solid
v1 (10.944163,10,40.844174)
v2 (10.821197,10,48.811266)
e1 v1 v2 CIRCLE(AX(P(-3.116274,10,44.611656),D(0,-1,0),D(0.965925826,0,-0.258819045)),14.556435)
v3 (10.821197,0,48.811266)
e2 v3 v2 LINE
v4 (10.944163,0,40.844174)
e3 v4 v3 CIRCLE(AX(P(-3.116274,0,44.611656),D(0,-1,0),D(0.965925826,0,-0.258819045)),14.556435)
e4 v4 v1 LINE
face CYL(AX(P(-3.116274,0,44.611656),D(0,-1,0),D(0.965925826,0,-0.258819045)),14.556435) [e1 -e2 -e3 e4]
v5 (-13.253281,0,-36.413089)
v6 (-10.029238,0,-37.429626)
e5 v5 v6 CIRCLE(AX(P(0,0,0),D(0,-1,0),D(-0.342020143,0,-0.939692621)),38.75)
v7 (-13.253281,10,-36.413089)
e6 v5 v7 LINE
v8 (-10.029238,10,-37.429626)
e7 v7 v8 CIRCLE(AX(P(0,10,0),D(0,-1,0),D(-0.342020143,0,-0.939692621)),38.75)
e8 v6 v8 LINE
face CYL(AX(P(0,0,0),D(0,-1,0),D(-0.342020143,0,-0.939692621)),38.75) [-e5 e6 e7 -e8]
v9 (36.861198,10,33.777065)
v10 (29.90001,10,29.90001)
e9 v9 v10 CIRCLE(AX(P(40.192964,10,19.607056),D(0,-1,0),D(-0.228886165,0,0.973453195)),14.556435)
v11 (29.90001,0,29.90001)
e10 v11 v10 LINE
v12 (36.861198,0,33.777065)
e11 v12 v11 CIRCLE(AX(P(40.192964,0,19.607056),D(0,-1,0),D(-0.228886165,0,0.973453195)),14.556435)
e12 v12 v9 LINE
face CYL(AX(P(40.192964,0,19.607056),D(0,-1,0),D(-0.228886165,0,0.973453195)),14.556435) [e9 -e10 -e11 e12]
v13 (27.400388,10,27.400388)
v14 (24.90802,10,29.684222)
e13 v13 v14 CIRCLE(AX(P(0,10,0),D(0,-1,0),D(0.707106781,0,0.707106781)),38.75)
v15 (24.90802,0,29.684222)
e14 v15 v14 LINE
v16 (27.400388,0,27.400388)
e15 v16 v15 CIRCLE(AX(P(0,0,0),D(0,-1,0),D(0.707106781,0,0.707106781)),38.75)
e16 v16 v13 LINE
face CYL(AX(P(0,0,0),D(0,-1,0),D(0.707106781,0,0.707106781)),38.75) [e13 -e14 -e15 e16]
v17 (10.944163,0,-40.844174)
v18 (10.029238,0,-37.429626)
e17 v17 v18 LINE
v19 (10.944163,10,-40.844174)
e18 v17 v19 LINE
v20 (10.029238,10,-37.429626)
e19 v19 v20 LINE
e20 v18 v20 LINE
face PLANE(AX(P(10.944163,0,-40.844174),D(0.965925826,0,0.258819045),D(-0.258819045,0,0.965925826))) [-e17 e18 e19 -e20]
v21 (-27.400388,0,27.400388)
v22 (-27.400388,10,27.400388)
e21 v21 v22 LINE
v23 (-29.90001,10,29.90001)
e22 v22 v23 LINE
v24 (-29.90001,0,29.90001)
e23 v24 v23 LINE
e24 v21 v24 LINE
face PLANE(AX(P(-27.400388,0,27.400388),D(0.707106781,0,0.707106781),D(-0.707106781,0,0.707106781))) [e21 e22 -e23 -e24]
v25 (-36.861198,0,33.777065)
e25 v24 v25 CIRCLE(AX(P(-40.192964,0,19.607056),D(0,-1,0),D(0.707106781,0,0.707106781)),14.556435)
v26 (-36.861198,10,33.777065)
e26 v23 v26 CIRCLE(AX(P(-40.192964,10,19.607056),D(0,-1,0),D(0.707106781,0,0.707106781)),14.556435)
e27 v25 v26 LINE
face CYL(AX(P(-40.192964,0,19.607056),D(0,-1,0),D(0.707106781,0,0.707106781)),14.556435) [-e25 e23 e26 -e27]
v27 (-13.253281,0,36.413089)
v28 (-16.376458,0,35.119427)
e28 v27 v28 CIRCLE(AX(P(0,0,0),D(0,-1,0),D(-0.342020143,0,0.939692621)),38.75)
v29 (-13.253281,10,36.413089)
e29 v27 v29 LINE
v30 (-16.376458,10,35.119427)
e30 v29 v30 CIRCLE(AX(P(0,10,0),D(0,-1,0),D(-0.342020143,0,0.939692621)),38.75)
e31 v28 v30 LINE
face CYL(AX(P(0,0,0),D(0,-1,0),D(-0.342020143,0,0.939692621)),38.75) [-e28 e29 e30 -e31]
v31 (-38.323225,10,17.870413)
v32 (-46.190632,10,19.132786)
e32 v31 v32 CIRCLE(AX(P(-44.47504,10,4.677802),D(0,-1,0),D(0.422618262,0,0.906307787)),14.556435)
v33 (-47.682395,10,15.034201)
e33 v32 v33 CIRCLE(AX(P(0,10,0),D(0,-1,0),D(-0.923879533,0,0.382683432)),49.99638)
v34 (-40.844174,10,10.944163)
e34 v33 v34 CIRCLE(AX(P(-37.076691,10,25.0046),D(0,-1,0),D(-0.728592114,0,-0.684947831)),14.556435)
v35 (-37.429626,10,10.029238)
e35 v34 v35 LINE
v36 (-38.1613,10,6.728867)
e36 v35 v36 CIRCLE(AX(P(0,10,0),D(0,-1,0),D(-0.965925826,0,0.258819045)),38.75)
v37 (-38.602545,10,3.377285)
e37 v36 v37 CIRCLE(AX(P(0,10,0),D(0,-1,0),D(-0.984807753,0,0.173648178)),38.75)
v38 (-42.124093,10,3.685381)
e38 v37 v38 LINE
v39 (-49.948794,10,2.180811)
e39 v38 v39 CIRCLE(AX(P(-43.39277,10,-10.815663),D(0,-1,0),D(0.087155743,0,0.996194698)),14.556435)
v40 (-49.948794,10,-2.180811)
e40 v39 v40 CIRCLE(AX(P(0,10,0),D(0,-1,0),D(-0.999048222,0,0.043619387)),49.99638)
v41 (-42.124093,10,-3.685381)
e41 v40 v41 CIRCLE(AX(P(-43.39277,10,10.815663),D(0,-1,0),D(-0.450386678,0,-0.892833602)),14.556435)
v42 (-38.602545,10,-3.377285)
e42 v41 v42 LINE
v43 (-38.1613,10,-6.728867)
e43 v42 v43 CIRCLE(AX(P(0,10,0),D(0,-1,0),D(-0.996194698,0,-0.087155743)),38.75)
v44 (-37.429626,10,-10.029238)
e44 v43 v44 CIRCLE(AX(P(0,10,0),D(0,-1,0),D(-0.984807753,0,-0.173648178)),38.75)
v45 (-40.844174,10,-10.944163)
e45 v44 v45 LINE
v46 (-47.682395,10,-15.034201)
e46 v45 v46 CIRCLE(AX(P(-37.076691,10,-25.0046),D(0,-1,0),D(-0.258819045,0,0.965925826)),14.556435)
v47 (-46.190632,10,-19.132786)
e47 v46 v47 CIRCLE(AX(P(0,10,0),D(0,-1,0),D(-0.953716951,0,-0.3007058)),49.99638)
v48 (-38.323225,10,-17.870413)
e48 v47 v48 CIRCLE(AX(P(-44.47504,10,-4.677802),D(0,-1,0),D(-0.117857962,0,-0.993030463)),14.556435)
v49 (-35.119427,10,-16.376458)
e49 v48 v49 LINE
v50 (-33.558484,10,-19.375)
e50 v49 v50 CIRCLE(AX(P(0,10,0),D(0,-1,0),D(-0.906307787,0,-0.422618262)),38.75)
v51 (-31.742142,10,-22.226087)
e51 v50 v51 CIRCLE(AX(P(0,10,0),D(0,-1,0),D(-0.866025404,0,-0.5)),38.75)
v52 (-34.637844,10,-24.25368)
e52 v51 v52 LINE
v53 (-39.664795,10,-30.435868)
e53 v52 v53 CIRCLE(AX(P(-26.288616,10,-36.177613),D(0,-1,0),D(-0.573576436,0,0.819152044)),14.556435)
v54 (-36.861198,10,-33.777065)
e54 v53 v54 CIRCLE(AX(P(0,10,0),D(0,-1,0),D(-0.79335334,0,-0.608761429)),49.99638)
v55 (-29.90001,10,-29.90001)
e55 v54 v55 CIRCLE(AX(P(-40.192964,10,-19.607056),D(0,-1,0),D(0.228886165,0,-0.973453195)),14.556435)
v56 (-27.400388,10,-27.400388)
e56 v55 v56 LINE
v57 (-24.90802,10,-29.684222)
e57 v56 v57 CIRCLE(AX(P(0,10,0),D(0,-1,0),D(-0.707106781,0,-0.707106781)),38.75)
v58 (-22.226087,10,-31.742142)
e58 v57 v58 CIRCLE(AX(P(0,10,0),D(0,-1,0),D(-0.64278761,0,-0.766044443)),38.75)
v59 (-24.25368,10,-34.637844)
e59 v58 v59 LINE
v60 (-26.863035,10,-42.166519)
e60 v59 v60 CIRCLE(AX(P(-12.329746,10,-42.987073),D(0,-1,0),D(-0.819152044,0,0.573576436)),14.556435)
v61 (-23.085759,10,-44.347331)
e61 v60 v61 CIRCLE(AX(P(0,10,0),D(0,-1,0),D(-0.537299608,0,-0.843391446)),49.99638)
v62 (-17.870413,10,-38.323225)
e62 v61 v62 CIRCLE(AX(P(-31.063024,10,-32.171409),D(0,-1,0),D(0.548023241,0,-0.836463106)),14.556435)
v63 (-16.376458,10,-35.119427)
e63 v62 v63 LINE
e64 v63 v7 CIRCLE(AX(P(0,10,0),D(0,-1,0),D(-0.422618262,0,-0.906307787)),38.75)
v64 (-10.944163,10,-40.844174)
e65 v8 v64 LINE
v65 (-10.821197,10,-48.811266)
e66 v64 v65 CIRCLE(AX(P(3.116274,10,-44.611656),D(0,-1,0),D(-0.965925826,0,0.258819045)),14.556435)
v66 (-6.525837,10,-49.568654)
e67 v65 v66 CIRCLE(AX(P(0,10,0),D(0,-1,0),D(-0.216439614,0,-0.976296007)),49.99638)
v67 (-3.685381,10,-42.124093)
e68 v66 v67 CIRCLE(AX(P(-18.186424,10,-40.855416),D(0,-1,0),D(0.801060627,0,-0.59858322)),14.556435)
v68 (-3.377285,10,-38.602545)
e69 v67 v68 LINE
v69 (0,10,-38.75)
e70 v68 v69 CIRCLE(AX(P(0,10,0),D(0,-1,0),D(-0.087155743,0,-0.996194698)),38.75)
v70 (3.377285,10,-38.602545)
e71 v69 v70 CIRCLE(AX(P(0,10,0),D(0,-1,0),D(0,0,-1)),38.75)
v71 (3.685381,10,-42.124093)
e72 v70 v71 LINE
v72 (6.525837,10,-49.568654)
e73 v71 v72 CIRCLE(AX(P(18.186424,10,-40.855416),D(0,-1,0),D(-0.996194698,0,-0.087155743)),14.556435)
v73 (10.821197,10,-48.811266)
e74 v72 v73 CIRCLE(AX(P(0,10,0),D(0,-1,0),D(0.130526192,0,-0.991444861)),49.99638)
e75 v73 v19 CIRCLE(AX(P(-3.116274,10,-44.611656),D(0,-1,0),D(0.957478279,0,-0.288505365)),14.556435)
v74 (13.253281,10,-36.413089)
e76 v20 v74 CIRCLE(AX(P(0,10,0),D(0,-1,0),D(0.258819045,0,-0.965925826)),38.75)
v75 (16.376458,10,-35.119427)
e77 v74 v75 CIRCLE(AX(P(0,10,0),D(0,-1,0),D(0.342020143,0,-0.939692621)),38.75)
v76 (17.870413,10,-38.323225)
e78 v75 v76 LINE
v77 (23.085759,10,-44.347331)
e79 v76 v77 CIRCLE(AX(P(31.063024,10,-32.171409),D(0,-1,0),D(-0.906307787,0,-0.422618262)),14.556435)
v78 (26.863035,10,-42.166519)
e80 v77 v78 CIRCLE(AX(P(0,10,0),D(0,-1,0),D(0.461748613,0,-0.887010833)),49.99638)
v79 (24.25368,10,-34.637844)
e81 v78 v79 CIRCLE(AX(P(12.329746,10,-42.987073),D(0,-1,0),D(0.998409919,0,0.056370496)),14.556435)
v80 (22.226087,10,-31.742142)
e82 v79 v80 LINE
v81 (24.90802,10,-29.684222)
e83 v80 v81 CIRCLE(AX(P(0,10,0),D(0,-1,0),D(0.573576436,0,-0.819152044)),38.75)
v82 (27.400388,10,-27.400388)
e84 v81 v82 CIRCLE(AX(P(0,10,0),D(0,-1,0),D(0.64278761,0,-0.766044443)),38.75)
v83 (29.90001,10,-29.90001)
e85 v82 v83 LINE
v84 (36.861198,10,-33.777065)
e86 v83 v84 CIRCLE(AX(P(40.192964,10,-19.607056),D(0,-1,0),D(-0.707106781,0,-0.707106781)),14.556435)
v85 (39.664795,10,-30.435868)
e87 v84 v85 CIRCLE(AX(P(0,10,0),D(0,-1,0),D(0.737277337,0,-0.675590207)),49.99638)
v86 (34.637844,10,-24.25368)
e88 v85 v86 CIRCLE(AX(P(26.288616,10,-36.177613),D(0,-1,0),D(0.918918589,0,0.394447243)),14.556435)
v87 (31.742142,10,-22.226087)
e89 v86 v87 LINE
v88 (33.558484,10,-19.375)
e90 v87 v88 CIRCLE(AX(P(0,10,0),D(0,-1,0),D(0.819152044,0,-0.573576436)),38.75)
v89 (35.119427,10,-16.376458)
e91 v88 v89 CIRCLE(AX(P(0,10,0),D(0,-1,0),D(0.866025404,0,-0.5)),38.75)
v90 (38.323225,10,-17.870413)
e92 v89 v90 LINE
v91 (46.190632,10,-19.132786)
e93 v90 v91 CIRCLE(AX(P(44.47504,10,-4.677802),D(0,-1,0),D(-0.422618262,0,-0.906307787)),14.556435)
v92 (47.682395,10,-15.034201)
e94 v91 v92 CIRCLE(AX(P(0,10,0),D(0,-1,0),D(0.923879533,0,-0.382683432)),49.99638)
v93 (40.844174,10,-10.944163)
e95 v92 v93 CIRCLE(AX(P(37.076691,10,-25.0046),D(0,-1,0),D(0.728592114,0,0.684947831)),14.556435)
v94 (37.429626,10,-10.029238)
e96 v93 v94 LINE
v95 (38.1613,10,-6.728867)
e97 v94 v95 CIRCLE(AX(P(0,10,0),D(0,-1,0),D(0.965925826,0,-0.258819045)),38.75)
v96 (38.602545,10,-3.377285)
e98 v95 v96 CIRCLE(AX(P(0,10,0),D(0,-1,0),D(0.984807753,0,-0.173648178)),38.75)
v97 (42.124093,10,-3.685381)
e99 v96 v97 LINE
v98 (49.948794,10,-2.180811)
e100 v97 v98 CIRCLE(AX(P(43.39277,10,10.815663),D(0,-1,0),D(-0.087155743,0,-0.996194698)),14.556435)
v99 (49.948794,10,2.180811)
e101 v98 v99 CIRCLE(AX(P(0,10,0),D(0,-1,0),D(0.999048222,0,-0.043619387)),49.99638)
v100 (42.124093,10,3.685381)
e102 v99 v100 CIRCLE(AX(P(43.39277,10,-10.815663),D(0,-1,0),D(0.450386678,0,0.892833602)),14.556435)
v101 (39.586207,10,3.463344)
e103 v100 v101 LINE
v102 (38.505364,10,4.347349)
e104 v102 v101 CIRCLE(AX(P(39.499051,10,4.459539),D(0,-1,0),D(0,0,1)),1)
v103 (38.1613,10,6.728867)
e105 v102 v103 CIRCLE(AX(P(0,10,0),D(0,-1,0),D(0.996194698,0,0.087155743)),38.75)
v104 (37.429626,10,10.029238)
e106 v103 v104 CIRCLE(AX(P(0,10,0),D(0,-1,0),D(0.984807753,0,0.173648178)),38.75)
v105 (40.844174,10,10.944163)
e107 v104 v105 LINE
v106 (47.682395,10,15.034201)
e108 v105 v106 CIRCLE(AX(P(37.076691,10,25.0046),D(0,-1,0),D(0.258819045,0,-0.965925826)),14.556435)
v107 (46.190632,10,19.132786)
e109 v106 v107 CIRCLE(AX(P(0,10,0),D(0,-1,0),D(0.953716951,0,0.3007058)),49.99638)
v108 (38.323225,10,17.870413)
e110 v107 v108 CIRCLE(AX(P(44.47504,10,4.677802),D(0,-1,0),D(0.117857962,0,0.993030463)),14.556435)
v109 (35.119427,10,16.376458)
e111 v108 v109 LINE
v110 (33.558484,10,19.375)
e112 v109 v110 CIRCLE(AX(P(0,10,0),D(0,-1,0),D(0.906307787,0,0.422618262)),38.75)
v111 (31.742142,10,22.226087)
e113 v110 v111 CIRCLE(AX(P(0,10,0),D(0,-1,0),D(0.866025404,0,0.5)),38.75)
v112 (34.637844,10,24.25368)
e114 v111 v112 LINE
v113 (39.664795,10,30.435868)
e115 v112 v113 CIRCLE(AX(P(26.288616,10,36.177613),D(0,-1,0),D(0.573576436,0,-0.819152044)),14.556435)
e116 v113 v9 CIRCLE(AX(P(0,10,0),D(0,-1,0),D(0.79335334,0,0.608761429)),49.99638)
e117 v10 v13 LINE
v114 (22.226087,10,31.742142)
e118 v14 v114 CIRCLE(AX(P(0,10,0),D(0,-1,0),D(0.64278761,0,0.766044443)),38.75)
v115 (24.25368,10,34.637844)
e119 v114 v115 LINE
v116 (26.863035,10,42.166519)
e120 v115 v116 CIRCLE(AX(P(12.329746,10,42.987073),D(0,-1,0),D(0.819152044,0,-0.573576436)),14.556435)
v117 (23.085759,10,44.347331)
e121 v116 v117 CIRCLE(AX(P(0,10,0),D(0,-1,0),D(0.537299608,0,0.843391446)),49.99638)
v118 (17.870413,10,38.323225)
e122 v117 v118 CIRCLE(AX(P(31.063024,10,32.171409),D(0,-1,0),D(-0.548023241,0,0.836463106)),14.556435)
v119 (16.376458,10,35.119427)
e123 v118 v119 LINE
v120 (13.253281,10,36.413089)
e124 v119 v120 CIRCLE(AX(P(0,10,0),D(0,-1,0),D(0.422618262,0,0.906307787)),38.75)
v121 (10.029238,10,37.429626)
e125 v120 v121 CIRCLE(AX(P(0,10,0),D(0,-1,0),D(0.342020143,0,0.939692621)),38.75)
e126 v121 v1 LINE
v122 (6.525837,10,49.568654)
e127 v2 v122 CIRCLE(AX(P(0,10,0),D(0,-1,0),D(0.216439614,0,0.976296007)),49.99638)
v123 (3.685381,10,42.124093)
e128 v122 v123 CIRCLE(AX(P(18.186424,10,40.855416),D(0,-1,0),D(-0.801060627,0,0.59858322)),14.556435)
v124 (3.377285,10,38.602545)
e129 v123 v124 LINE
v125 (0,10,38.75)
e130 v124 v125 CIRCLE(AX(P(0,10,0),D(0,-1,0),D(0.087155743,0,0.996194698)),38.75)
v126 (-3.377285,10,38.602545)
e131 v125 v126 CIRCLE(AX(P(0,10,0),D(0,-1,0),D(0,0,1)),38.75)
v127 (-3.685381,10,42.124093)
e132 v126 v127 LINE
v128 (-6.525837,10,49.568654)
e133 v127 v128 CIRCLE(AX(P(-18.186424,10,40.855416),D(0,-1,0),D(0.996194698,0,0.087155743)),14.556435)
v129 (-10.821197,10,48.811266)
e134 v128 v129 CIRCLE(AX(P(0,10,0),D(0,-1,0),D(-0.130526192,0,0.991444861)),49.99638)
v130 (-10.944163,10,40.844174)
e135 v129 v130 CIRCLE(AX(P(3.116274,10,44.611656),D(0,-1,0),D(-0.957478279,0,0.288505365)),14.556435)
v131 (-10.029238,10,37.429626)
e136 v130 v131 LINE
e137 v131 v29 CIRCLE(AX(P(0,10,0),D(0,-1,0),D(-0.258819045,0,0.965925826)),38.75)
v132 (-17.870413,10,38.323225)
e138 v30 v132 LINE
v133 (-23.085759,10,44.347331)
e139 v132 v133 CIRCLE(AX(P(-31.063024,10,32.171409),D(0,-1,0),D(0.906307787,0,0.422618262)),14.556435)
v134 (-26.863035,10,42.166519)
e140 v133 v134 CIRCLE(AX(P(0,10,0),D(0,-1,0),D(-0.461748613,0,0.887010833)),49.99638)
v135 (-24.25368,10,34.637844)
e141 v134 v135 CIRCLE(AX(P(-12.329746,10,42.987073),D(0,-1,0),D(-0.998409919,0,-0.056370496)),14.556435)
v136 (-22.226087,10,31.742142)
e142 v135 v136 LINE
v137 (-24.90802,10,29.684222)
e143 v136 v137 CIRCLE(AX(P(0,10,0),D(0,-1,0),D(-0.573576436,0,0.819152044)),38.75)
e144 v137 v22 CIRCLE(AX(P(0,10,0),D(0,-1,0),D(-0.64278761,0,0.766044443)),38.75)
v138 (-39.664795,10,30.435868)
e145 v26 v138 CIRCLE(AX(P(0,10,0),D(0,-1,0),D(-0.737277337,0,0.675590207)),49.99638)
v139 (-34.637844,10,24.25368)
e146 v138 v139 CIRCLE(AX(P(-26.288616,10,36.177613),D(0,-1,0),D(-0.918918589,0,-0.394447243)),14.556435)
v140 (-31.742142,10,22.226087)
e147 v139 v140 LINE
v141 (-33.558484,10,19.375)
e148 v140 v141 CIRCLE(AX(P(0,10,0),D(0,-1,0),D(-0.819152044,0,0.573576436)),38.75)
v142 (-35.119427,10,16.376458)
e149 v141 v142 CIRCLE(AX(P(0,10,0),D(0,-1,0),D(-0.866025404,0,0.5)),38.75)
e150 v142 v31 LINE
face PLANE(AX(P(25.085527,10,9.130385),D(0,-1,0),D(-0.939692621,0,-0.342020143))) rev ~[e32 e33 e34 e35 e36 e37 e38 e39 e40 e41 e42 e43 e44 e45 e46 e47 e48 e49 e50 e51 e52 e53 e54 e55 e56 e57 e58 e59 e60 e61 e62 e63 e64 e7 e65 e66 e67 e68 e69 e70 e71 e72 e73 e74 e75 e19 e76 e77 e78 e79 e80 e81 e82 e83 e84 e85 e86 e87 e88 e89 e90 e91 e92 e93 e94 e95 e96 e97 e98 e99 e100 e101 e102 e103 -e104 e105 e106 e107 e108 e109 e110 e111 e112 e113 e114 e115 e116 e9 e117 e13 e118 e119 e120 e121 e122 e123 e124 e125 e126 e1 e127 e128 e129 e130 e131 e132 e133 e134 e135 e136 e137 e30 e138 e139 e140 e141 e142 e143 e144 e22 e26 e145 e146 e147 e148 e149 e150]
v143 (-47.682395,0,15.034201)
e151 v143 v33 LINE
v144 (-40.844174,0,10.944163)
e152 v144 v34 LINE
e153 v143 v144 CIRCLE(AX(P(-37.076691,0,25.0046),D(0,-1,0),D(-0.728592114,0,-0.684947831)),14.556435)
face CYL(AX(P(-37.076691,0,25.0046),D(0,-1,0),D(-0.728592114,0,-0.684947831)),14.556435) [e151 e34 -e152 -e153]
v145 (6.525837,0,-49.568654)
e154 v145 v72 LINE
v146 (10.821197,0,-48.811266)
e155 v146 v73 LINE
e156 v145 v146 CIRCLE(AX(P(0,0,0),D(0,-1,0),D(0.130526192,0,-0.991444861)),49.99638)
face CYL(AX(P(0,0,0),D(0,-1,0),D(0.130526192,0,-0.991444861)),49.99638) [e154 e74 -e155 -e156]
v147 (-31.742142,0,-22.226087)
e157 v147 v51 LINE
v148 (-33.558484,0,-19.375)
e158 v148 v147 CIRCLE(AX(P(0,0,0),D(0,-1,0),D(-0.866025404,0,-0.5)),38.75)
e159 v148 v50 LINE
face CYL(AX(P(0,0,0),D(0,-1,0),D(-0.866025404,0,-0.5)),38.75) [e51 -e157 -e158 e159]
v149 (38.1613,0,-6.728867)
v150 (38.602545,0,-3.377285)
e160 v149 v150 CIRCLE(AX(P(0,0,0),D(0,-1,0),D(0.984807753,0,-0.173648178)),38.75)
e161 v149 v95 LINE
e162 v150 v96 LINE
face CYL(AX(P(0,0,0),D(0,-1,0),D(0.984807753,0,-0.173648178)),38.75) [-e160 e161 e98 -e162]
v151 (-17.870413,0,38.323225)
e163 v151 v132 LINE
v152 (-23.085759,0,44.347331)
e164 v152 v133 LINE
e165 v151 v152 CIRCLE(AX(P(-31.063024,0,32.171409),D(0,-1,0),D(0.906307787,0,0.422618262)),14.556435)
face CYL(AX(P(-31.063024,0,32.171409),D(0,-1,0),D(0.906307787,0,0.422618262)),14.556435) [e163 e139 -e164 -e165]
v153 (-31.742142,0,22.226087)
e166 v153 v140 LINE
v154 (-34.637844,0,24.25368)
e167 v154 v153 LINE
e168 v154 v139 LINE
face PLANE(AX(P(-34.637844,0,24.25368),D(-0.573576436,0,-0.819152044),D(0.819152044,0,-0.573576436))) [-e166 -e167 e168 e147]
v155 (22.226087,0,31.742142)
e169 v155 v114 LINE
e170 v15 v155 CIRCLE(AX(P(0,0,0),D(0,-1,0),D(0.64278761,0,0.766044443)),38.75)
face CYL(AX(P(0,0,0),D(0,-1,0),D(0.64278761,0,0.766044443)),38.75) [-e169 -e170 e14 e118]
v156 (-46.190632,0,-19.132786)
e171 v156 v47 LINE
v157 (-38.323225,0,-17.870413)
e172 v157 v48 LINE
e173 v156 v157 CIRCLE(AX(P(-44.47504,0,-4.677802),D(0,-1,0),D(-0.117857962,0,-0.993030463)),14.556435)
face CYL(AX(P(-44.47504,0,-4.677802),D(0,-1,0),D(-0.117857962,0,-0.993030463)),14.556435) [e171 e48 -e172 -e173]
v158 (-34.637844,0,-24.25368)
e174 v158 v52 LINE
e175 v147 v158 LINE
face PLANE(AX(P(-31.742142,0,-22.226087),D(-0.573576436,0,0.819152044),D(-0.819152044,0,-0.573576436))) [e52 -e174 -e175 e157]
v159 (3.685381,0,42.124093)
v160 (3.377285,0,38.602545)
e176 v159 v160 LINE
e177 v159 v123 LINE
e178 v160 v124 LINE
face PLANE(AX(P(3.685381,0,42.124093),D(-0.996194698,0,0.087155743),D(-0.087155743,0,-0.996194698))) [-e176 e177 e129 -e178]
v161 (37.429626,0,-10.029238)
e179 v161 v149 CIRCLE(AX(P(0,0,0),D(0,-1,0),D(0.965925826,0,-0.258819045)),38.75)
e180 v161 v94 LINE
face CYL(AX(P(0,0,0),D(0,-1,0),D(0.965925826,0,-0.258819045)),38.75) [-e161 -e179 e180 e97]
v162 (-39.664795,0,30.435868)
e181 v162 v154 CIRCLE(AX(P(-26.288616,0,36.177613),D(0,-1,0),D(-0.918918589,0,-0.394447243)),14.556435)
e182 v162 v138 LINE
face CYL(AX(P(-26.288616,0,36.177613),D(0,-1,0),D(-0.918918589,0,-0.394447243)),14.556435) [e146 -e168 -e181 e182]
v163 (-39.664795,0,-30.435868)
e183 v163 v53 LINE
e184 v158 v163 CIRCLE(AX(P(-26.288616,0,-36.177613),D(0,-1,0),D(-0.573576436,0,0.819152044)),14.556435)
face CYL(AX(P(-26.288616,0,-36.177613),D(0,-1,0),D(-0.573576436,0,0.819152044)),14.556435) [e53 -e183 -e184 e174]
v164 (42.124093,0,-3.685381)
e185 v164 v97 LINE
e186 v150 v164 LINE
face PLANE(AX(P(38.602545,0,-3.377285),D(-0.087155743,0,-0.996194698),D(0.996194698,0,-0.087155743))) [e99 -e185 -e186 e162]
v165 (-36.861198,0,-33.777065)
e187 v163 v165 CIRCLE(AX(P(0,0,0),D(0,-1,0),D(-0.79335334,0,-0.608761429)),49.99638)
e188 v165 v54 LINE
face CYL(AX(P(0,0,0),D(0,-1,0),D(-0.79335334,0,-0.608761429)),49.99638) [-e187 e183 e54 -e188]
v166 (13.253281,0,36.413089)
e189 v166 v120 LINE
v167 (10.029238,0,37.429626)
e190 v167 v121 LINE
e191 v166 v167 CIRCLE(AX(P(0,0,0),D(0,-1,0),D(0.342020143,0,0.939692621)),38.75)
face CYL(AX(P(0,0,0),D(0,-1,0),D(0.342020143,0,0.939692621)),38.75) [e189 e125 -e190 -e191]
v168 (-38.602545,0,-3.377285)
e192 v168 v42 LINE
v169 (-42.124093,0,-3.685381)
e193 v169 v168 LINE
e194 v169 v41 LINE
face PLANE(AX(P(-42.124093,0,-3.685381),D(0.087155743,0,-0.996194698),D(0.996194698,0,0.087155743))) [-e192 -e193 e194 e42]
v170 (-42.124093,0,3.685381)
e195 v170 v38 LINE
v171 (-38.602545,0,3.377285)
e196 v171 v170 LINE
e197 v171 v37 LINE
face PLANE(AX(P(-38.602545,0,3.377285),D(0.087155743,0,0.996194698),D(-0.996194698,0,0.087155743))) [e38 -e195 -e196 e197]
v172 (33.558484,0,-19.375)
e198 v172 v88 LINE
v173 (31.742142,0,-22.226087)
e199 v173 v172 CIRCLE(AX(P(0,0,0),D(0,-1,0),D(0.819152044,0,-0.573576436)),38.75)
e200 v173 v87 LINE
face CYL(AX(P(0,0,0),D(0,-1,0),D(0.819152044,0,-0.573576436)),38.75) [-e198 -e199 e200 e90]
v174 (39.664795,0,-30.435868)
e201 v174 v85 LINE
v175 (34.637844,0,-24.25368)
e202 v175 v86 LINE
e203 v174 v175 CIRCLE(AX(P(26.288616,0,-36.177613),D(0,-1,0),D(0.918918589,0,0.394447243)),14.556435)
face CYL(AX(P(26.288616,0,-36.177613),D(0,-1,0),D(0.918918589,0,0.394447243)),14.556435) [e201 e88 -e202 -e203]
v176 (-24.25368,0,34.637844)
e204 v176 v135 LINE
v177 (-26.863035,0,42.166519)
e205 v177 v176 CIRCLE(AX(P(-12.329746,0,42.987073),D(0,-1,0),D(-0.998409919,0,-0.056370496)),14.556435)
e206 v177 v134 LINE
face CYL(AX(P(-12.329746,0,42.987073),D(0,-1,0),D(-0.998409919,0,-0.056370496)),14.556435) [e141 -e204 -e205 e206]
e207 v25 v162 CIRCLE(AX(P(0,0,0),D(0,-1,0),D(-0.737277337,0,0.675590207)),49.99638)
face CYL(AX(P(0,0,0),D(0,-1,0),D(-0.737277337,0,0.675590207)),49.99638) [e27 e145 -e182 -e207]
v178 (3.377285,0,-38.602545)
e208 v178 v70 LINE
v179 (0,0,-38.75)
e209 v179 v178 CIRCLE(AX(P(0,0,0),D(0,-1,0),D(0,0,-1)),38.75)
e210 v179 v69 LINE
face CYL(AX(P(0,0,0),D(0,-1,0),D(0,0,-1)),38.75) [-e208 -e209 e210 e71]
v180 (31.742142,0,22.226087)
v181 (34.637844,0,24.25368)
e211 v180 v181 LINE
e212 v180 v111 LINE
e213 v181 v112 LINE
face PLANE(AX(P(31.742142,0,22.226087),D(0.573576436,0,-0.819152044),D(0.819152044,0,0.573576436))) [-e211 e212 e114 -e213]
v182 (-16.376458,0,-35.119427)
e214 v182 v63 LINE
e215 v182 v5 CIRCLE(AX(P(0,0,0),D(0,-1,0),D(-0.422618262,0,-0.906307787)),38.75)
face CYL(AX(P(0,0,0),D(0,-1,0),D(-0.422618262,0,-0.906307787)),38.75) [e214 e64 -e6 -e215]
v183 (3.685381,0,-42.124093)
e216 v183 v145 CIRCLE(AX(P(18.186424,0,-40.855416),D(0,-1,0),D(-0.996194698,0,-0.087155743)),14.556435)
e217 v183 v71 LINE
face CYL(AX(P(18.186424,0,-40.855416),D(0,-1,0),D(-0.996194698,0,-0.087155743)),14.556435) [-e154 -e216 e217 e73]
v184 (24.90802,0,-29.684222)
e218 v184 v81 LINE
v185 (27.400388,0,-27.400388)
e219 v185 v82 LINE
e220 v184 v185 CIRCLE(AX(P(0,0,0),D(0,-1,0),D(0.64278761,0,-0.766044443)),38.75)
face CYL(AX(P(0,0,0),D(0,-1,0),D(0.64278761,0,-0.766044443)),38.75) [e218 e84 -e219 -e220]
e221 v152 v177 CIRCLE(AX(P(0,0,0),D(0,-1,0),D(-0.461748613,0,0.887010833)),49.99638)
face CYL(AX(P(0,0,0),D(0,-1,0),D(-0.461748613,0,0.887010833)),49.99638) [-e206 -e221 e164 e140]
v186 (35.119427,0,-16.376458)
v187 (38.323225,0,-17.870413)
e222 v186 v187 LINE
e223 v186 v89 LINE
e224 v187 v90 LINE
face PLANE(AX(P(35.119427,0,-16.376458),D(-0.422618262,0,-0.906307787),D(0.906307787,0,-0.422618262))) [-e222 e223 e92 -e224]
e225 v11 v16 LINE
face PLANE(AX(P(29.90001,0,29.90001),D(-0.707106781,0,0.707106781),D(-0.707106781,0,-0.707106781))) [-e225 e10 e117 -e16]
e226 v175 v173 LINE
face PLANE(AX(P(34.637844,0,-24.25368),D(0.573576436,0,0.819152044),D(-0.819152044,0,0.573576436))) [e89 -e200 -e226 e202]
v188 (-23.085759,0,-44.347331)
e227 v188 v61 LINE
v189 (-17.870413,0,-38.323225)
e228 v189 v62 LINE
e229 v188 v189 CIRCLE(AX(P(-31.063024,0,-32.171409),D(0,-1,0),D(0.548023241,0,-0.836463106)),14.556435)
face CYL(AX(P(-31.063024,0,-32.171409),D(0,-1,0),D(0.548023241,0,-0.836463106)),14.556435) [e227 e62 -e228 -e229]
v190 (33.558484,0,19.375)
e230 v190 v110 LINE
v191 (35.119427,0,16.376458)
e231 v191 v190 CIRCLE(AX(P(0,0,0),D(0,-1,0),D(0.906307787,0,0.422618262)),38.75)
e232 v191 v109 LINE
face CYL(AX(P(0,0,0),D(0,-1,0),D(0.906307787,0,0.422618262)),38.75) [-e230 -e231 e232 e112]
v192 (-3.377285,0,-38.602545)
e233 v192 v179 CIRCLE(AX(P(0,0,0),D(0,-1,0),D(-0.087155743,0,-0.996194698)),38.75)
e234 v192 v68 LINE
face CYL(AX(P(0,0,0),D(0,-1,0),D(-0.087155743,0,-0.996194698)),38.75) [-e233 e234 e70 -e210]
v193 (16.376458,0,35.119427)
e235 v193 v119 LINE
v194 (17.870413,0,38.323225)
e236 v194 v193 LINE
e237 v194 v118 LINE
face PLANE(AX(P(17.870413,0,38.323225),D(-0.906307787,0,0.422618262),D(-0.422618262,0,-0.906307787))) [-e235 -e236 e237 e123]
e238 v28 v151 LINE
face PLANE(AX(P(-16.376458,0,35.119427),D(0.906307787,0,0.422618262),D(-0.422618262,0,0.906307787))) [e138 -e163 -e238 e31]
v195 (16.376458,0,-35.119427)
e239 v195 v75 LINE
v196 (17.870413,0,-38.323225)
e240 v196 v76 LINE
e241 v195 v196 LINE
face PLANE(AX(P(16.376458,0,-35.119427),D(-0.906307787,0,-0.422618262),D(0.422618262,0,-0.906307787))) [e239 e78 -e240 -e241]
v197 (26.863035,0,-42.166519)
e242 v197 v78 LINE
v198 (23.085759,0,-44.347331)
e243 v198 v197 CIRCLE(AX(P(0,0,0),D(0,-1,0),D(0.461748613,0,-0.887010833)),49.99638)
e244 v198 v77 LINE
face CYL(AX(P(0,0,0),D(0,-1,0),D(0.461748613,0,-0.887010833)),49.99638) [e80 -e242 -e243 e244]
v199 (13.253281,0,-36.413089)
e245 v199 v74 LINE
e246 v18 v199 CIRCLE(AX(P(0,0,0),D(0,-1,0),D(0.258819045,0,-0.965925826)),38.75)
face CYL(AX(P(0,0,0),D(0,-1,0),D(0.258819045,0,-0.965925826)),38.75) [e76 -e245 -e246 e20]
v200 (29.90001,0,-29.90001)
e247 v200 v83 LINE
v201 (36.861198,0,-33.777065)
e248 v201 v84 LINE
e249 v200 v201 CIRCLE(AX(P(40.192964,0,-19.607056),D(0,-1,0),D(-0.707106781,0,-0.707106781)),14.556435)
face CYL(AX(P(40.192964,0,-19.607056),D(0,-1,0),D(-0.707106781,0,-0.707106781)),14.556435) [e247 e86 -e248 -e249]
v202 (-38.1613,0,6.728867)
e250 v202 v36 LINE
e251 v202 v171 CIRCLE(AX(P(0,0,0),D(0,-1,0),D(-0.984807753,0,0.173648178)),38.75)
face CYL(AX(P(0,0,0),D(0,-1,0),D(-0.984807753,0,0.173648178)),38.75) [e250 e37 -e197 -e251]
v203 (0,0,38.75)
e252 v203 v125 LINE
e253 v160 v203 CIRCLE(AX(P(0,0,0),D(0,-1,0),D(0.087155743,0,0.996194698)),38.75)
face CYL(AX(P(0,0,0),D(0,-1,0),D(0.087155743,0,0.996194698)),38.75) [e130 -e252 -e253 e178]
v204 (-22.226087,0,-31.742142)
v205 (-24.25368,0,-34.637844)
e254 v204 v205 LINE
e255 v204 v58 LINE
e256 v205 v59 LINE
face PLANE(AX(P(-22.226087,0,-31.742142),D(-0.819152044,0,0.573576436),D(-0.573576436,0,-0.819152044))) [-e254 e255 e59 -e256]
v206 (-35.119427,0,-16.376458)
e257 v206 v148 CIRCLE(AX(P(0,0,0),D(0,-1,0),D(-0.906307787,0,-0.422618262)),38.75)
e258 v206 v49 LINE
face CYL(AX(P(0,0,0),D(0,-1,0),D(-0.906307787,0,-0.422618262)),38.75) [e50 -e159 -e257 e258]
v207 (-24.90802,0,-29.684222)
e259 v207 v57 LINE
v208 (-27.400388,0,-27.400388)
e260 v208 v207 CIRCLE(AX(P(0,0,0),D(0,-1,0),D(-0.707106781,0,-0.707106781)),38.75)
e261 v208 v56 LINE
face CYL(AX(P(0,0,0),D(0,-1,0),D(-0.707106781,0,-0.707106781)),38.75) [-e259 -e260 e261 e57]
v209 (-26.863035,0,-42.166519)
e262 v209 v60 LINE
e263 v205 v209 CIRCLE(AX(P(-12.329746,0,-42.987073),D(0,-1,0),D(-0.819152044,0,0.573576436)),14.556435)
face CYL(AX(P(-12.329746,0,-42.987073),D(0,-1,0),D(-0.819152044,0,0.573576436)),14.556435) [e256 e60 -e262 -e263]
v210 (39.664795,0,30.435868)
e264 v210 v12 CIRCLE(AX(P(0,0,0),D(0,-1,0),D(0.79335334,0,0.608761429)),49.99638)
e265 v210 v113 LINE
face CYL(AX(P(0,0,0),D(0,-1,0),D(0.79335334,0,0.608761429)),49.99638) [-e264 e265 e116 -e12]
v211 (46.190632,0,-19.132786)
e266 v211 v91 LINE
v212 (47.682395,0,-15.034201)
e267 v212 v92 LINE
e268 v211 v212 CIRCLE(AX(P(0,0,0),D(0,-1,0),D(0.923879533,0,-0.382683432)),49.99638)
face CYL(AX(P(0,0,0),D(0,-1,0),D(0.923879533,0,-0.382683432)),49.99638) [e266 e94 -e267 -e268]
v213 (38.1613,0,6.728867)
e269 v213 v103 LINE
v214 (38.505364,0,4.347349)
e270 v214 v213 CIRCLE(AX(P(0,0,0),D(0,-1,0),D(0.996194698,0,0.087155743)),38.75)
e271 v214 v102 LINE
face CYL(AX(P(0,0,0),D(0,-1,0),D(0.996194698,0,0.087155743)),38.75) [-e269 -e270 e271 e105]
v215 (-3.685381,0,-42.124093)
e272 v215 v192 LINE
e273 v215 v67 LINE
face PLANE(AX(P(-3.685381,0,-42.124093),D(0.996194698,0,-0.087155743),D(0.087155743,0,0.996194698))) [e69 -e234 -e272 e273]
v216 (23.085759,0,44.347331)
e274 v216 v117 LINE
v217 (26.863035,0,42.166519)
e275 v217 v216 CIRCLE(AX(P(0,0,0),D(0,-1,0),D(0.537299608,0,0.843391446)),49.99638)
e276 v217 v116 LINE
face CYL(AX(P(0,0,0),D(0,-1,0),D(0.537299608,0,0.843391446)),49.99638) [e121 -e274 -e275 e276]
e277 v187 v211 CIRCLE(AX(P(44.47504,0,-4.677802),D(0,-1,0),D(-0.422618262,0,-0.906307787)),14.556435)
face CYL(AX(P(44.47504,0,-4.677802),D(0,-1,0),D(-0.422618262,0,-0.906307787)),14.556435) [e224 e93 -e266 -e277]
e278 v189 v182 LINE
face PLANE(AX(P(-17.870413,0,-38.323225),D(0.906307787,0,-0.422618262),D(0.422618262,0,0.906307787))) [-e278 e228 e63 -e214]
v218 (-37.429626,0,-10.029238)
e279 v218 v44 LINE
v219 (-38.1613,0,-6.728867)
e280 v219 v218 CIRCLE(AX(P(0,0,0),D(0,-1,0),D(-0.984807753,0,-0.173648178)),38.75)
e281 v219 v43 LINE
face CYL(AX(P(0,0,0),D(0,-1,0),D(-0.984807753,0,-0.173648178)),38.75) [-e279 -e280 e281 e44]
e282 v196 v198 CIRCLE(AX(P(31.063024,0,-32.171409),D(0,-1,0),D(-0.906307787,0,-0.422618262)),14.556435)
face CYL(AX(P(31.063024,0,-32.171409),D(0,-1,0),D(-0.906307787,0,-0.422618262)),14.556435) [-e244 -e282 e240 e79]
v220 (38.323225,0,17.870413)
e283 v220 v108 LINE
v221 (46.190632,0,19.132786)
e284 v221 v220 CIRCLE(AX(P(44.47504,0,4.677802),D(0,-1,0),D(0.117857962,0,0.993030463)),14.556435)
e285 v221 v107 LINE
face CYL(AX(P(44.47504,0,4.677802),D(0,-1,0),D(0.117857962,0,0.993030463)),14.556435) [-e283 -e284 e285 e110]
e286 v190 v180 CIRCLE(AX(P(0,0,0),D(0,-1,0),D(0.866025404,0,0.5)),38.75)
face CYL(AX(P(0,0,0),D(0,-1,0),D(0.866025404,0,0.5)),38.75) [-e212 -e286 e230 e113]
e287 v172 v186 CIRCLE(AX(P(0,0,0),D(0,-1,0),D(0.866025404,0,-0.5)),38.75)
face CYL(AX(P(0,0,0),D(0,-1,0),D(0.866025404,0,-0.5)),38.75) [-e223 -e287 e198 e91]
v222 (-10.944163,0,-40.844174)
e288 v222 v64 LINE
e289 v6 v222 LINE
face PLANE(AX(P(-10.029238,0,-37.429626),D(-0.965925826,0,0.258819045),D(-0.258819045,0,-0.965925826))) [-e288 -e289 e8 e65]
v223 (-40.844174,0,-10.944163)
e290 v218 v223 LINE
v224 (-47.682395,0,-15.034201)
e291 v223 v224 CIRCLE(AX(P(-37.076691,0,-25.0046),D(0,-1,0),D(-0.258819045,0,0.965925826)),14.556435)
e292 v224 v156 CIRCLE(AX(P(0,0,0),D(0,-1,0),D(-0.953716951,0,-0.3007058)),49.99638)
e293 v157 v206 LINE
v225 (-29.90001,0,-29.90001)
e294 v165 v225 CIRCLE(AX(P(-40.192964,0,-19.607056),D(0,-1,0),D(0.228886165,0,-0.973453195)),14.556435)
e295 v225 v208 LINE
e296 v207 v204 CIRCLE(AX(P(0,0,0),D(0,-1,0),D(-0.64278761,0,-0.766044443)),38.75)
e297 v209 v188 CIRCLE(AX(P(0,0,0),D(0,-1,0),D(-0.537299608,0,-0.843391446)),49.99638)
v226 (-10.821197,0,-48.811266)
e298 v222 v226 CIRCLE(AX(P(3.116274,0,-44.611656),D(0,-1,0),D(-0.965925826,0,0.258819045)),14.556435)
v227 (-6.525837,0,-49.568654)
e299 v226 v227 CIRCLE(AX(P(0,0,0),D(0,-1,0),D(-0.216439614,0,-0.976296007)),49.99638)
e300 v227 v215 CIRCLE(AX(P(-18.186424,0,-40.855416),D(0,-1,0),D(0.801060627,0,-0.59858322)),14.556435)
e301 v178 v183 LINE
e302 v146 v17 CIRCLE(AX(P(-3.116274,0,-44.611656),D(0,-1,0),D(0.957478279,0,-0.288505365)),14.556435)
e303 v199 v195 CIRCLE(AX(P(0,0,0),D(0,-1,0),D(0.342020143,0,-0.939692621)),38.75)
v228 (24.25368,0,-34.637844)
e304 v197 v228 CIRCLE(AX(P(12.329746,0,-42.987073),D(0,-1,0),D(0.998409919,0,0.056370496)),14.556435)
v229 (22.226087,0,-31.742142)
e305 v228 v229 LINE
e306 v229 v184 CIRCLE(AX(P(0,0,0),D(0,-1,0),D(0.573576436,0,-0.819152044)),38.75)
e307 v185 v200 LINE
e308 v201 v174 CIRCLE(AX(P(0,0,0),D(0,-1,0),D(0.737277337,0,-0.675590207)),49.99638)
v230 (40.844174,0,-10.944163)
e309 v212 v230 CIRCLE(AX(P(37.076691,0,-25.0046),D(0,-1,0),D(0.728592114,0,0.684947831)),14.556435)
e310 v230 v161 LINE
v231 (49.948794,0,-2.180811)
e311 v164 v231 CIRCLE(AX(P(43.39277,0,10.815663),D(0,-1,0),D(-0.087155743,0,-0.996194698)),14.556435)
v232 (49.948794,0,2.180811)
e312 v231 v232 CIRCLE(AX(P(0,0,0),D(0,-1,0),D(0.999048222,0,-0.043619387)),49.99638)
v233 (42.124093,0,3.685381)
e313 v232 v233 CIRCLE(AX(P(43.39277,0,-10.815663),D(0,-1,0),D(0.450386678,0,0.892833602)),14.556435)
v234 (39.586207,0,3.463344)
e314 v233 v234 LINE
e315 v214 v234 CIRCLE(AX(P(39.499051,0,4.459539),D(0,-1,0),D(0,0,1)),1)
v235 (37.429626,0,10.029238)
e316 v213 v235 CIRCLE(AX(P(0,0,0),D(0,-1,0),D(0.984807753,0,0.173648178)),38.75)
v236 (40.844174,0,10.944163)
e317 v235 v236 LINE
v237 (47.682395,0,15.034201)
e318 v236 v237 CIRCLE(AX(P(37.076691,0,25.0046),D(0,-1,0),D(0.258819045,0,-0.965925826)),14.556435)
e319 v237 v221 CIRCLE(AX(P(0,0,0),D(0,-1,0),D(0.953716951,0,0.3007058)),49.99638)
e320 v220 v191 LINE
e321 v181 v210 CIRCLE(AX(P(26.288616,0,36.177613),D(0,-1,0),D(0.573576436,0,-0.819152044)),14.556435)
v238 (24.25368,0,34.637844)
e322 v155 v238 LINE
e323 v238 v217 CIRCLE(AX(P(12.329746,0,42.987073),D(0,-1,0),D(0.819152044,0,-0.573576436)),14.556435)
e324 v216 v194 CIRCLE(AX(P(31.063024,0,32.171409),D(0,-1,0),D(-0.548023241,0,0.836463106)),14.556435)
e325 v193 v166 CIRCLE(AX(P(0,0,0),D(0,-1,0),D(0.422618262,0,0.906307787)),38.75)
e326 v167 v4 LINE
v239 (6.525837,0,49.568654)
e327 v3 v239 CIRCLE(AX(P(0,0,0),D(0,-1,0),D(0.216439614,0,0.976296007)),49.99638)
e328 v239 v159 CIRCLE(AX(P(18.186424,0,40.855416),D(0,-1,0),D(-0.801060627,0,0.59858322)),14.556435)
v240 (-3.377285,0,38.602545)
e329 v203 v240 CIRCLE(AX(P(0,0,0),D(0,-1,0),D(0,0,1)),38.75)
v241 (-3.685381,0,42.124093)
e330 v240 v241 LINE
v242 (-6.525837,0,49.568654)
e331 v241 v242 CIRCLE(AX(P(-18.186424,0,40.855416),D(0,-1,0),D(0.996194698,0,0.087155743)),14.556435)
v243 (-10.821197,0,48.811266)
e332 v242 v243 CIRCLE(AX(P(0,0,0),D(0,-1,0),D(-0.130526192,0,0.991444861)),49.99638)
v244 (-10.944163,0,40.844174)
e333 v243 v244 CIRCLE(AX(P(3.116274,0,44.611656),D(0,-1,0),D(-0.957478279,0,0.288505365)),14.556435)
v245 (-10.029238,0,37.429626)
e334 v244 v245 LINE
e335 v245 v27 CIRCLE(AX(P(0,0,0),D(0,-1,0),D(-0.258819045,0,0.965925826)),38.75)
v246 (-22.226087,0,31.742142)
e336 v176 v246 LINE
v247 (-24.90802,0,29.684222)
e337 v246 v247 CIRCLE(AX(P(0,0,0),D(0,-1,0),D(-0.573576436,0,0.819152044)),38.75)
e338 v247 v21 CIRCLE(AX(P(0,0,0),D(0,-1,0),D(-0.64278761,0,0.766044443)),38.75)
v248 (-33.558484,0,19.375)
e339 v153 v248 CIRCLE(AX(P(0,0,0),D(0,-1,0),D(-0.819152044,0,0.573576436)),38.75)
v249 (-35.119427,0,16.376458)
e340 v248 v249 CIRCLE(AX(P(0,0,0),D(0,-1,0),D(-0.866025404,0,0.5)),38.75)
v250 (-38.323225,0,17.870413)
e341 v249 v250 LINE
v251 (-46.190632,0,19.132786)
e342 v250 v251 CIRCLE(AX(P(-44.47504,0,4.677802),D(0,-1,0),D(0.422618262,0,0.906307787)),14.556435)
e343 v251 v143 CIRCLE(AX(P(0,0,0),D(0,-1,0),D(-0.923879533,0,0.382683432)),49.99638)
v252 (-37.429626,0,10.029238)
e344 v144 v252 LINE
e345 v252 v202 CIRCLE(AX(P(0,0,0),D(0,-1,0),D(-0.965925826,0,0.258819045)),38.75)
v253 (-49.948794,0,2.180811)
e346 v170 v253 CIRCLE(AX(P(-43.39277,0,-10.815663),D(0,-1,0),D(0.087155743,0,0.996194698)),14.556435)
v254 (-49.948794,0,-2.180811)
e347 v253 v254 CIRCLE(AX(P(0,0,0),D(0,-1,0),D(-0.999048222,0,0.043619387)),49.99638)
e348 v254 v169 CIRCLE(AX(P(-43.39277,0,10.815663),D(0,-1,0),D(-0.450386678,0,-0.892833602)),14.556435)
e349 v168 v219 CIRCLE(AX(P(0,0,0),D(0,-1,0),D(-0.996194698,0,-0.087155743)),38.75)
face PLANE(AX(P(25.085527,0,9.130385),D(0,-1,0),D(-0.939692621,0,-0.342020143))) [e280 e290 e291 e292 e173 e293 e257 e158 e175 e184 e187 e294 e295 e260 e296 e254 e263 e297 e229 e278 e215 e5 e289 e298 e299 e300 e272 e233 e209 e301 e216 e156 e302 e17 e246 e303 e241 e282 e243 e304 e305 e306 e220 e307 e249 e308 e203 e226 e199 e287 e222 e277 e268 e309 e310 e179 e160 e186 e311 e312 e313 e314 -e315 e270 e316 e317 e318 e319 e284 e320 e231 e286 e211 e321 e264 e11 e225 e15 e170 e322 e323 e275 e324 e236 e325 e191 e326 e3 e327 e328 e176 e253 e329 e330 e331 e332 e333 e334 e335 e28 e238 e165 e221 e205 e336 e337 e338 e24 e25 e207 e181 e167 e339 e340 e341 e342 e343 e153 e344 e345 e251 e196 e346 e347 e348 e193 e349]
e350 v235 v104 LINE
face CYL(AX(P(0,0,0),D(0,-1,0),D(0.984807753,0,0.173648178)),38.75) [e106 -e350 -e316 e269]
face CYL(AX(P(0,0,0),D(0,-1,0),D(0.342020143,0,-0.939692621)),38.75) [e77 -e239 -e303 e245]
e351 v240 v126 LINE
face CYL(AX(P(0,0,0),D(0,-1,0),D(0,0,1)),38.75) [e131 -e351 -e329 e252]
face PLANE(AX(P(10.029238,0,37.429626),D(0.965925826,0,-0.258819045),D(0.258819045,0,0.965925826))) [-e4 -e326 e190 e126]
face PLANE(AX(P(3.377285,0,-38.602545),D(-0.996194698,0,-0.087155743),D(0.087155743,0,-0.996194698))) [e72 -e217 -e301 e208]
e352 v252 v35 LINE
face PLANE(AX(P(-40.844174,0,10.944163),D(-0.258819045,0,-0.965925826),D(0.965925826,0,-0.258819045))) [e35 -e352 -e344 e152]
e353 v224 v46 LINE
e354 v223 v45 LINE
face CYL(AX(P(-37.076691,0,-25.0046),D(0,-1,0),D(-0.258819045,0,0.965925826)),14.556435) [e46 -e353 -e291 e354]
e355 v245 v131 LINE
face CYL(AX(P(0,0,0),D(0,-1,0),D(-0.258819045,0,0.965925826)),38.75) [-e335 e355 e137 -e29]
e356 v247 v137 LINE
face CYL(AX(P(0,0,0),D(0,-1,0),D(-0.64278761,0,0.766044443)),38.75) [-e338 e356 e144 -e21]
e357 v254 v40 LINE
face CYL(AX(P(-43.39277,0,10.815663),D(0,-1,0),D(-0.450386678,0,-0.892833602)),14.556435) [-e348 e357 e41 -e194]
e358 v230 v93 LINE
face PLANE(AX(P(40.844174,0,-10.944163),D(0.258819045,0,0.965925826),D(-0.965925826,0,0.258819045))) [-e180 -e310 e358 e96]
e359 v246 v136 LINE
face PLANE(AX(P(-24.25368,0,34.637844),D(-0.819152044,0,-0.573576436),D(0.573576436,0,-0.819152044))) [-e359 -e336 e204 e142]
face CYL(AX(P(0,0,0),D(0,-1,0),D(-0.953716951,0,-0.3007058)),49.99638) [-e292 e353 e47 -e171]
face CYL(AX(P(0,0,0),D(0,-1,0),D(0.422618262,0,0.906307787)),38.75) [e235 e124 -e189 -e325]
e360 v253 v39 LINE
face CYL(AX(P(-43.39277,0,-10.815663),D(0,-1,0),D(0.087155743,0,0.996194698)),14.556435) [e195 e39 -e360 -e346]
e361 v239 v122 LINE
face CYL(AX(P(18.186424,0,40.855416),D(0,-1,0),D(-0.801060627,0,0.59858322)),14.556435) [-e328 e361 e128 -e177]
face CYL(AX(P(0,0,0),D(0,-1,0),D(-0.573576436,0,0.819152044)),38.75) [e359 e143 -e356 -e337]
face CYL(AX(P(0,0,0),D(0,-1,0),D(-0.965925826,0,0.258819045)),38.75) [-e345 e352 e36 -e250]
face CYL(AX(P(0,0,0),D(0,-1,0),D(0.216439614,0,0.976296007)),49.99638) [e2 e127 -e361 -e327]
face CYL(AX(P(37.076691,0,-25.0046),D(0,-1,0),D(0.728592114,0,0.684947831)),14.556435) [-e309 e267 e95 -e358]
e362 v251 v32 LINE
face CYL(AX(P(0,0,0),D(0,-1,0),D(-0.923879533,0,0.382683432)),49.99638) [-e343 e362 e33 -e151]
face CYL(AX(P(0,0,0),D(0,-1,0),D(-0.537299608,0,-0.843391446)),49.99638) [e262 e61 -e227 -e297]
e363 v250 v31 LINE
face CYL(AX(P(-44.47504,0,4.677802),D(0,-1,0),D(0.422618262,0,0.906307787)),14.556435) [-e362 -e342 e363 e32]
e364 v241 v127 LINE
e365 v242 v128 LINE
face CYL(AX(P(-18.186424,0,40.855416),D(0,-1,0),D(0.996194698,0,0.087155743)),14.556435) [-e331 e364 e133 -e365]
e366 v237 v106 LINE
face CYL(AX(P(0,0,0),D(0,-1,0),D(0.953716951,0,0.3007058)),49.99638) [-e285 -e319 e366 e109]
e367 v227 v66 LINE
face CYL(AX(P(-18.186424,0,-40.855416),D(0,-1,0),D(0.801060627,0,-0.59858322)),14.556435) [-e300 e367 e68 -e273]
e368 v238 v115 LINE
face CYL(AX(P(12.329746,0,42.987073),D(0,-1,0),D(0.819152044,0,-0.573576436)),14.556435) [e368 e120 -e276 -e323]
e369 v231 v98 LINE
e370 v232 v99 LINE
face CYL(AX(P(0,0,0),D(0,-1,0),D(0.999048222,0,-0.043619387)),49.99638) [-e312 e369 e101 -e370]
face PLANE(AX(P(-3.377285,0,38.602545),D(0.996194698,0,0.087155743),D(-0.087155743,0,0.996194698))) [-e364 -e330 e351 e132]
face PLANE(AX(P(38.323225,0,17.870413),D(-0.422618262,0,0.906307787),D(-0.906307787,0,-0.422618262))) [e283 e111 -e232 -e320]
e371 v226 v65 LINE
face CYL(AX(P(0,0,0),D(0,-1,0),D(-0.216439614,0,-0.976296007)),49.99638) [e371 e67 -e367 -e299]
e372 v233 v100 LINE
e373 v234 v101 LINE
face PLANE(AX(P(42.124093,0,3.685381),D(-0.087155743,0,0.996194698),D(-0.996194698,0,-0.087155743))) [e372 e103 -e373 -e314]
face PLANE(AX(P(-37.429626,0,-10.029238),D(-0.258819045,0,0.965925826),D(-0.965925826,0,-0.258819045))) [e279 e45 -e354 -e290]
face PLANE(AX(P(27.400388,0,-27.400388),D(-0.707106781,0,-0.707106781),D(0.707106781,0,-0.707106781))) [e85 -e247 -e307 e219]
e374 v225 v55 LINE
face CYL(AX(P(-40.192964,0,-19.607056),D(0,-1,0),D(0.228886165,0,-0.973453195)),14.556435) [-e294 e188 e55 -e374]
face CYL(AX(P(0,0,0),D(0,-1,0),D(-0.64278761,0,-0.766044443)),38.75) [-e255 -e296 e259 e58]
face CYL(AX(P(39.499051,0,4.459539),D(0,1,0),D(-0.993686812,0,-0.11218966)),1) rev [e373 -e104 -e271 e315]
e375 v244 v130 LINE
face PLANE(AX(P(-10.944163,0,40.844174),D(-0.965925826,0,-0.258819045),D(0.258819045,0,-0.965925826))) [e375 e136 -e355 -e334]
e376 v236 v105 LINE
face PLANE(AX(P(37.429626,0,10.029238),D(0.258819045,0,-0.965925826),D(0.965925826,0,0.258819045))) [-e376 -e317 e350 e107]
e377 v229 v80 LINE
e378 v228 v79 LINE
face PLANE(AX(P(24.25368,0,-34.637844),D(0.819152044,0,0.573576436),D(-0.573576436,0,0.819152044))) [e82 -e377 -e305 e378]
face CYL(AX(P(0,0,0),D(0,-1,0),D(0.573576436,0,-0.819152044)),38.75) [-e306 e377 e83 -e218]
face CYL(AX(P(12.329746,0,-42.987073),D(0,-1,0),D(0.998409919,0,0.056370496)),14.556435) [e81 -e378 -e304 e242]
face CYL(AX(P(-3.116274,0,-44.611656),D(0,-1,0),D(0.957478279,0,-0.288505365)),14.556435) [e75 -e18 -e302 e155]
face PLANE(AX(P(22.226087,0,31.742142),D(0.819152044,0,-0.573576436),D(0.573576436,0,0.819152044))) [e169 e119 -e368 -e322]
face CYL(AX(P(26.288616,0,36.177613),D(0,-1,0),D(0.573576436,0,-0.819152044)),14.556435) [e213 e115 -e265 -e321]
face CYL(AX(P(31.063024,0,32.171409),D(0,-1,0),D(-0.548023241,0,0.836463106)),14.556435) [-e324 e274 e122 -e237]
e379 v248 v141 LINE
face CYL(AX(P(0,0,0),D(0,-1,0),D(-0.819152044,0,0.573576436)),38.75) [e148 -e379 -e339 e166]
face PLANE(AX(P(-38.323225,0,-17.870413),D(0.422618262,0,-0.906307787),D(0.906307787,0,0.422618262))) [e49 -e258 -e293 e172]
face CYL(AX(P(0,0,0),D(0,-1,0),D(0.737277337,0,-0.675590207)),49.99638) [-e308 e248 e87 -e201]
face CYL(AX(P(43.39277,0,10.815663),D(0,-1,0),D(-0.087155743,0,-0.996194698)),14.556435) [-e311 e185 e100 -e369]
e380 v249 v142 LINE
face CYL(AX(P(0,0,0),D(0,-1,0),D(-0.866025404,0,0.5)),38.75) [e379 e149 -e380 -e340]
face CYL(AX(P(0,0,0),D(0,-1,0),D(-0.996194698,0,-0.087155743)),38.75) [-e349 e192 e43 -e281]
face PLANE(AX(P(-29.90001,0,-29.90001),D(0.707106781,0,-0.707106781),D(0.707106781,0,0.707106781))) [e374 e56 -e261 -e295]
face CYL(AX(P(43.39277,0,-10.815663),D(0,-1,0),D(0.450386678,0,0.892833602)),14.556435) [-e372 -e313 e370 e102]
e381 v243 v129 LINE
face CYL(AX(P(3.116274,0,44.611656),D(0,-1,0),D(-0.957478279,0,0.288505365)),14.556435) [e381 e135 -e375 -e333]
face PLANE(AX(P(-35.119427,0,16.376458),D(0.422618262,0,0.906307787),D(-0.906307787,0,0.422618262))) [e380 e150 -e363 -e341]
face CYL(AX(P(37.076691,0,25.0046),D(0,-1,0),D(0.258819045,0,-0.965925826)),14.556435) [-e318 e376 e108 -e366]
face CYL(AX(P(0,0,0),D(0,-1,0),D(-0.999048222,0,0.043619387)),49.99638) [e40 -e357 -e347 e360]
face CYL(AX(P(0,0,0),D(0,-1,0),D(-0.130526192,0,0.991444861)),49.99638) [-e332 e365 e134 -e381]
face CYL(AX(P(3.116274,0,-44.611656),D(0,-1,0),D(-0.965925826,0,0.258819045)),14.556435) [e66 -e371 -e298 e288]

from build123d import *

# Parameters (mm, degrees)
BOSS_EXTRUDE1_DEPTH = 10
FILLET4_R           = 1
CIRPATTERN1_COUNT   = 18


with BuildPart() as part:
    # Sketch1 → Boss-Extrude1 (new body)
    with BuildSketch(Plane(origin=(0, 0, 0), x_dir=(1, 0, 0), z_dir=(0, 1, 0))):
        with BuildLine():
            ThreePointArc((38.602544551, -3.377285031), (38.418488378, -5.057889949), (38.161300429, -6.728866885))
            Line((38.161300429, -6.728866885), (0, 0))
            Line((0, 0), (38.161300429, 6.728866885))
            ThreePointArc((38.161300429, 6.728866885), (38.418488378, 5.057889949), (38.602544551, 3.377285031))
            Line((38.602544551, 3.377285031), (42.124092809, 3.685380582))
            ThreePointArc((42.124092809, 3.685380582), (46.141395468, 3.478911596), (49.948794335, 2.180811458))
            ThreePointArc((49.948794335, 2.180811458), (49.99637981, 0), (49.948794335, -2.180811458))
            ThreePointArc((49.948794335, -2.180811458), (46.141395468, -3.478911596), (42.124092809, -3.685380582))
            Line((42.124092809, -3.685380582), (38.602544551, -3.377285031))
        make_face()
    boss_extrude1 = extrude(amount=BOSS_EXTRUDE1_DEPTH)

    # Fillet4
    fillet4_edges = [part.edges().sort_by_distance(p)[0] for p in [
        (38.602544551, 5, 3.377285031),
    ]]
    fillet(fillet4_edges, radius=FILLET4_R)

    # CirPattern1: Boss-Extrude1 ×18 about axis
    cirpattern1_axis = Axis((0, 0, 0), (0, 1, 0))
    for i in range(1, CIRPATTERN1_COUNT):
        add(boss_extrude1.rotate(cirpattern1_axis, i * 360 / CIRPATTERN1_COUNT))


solid = part.part
